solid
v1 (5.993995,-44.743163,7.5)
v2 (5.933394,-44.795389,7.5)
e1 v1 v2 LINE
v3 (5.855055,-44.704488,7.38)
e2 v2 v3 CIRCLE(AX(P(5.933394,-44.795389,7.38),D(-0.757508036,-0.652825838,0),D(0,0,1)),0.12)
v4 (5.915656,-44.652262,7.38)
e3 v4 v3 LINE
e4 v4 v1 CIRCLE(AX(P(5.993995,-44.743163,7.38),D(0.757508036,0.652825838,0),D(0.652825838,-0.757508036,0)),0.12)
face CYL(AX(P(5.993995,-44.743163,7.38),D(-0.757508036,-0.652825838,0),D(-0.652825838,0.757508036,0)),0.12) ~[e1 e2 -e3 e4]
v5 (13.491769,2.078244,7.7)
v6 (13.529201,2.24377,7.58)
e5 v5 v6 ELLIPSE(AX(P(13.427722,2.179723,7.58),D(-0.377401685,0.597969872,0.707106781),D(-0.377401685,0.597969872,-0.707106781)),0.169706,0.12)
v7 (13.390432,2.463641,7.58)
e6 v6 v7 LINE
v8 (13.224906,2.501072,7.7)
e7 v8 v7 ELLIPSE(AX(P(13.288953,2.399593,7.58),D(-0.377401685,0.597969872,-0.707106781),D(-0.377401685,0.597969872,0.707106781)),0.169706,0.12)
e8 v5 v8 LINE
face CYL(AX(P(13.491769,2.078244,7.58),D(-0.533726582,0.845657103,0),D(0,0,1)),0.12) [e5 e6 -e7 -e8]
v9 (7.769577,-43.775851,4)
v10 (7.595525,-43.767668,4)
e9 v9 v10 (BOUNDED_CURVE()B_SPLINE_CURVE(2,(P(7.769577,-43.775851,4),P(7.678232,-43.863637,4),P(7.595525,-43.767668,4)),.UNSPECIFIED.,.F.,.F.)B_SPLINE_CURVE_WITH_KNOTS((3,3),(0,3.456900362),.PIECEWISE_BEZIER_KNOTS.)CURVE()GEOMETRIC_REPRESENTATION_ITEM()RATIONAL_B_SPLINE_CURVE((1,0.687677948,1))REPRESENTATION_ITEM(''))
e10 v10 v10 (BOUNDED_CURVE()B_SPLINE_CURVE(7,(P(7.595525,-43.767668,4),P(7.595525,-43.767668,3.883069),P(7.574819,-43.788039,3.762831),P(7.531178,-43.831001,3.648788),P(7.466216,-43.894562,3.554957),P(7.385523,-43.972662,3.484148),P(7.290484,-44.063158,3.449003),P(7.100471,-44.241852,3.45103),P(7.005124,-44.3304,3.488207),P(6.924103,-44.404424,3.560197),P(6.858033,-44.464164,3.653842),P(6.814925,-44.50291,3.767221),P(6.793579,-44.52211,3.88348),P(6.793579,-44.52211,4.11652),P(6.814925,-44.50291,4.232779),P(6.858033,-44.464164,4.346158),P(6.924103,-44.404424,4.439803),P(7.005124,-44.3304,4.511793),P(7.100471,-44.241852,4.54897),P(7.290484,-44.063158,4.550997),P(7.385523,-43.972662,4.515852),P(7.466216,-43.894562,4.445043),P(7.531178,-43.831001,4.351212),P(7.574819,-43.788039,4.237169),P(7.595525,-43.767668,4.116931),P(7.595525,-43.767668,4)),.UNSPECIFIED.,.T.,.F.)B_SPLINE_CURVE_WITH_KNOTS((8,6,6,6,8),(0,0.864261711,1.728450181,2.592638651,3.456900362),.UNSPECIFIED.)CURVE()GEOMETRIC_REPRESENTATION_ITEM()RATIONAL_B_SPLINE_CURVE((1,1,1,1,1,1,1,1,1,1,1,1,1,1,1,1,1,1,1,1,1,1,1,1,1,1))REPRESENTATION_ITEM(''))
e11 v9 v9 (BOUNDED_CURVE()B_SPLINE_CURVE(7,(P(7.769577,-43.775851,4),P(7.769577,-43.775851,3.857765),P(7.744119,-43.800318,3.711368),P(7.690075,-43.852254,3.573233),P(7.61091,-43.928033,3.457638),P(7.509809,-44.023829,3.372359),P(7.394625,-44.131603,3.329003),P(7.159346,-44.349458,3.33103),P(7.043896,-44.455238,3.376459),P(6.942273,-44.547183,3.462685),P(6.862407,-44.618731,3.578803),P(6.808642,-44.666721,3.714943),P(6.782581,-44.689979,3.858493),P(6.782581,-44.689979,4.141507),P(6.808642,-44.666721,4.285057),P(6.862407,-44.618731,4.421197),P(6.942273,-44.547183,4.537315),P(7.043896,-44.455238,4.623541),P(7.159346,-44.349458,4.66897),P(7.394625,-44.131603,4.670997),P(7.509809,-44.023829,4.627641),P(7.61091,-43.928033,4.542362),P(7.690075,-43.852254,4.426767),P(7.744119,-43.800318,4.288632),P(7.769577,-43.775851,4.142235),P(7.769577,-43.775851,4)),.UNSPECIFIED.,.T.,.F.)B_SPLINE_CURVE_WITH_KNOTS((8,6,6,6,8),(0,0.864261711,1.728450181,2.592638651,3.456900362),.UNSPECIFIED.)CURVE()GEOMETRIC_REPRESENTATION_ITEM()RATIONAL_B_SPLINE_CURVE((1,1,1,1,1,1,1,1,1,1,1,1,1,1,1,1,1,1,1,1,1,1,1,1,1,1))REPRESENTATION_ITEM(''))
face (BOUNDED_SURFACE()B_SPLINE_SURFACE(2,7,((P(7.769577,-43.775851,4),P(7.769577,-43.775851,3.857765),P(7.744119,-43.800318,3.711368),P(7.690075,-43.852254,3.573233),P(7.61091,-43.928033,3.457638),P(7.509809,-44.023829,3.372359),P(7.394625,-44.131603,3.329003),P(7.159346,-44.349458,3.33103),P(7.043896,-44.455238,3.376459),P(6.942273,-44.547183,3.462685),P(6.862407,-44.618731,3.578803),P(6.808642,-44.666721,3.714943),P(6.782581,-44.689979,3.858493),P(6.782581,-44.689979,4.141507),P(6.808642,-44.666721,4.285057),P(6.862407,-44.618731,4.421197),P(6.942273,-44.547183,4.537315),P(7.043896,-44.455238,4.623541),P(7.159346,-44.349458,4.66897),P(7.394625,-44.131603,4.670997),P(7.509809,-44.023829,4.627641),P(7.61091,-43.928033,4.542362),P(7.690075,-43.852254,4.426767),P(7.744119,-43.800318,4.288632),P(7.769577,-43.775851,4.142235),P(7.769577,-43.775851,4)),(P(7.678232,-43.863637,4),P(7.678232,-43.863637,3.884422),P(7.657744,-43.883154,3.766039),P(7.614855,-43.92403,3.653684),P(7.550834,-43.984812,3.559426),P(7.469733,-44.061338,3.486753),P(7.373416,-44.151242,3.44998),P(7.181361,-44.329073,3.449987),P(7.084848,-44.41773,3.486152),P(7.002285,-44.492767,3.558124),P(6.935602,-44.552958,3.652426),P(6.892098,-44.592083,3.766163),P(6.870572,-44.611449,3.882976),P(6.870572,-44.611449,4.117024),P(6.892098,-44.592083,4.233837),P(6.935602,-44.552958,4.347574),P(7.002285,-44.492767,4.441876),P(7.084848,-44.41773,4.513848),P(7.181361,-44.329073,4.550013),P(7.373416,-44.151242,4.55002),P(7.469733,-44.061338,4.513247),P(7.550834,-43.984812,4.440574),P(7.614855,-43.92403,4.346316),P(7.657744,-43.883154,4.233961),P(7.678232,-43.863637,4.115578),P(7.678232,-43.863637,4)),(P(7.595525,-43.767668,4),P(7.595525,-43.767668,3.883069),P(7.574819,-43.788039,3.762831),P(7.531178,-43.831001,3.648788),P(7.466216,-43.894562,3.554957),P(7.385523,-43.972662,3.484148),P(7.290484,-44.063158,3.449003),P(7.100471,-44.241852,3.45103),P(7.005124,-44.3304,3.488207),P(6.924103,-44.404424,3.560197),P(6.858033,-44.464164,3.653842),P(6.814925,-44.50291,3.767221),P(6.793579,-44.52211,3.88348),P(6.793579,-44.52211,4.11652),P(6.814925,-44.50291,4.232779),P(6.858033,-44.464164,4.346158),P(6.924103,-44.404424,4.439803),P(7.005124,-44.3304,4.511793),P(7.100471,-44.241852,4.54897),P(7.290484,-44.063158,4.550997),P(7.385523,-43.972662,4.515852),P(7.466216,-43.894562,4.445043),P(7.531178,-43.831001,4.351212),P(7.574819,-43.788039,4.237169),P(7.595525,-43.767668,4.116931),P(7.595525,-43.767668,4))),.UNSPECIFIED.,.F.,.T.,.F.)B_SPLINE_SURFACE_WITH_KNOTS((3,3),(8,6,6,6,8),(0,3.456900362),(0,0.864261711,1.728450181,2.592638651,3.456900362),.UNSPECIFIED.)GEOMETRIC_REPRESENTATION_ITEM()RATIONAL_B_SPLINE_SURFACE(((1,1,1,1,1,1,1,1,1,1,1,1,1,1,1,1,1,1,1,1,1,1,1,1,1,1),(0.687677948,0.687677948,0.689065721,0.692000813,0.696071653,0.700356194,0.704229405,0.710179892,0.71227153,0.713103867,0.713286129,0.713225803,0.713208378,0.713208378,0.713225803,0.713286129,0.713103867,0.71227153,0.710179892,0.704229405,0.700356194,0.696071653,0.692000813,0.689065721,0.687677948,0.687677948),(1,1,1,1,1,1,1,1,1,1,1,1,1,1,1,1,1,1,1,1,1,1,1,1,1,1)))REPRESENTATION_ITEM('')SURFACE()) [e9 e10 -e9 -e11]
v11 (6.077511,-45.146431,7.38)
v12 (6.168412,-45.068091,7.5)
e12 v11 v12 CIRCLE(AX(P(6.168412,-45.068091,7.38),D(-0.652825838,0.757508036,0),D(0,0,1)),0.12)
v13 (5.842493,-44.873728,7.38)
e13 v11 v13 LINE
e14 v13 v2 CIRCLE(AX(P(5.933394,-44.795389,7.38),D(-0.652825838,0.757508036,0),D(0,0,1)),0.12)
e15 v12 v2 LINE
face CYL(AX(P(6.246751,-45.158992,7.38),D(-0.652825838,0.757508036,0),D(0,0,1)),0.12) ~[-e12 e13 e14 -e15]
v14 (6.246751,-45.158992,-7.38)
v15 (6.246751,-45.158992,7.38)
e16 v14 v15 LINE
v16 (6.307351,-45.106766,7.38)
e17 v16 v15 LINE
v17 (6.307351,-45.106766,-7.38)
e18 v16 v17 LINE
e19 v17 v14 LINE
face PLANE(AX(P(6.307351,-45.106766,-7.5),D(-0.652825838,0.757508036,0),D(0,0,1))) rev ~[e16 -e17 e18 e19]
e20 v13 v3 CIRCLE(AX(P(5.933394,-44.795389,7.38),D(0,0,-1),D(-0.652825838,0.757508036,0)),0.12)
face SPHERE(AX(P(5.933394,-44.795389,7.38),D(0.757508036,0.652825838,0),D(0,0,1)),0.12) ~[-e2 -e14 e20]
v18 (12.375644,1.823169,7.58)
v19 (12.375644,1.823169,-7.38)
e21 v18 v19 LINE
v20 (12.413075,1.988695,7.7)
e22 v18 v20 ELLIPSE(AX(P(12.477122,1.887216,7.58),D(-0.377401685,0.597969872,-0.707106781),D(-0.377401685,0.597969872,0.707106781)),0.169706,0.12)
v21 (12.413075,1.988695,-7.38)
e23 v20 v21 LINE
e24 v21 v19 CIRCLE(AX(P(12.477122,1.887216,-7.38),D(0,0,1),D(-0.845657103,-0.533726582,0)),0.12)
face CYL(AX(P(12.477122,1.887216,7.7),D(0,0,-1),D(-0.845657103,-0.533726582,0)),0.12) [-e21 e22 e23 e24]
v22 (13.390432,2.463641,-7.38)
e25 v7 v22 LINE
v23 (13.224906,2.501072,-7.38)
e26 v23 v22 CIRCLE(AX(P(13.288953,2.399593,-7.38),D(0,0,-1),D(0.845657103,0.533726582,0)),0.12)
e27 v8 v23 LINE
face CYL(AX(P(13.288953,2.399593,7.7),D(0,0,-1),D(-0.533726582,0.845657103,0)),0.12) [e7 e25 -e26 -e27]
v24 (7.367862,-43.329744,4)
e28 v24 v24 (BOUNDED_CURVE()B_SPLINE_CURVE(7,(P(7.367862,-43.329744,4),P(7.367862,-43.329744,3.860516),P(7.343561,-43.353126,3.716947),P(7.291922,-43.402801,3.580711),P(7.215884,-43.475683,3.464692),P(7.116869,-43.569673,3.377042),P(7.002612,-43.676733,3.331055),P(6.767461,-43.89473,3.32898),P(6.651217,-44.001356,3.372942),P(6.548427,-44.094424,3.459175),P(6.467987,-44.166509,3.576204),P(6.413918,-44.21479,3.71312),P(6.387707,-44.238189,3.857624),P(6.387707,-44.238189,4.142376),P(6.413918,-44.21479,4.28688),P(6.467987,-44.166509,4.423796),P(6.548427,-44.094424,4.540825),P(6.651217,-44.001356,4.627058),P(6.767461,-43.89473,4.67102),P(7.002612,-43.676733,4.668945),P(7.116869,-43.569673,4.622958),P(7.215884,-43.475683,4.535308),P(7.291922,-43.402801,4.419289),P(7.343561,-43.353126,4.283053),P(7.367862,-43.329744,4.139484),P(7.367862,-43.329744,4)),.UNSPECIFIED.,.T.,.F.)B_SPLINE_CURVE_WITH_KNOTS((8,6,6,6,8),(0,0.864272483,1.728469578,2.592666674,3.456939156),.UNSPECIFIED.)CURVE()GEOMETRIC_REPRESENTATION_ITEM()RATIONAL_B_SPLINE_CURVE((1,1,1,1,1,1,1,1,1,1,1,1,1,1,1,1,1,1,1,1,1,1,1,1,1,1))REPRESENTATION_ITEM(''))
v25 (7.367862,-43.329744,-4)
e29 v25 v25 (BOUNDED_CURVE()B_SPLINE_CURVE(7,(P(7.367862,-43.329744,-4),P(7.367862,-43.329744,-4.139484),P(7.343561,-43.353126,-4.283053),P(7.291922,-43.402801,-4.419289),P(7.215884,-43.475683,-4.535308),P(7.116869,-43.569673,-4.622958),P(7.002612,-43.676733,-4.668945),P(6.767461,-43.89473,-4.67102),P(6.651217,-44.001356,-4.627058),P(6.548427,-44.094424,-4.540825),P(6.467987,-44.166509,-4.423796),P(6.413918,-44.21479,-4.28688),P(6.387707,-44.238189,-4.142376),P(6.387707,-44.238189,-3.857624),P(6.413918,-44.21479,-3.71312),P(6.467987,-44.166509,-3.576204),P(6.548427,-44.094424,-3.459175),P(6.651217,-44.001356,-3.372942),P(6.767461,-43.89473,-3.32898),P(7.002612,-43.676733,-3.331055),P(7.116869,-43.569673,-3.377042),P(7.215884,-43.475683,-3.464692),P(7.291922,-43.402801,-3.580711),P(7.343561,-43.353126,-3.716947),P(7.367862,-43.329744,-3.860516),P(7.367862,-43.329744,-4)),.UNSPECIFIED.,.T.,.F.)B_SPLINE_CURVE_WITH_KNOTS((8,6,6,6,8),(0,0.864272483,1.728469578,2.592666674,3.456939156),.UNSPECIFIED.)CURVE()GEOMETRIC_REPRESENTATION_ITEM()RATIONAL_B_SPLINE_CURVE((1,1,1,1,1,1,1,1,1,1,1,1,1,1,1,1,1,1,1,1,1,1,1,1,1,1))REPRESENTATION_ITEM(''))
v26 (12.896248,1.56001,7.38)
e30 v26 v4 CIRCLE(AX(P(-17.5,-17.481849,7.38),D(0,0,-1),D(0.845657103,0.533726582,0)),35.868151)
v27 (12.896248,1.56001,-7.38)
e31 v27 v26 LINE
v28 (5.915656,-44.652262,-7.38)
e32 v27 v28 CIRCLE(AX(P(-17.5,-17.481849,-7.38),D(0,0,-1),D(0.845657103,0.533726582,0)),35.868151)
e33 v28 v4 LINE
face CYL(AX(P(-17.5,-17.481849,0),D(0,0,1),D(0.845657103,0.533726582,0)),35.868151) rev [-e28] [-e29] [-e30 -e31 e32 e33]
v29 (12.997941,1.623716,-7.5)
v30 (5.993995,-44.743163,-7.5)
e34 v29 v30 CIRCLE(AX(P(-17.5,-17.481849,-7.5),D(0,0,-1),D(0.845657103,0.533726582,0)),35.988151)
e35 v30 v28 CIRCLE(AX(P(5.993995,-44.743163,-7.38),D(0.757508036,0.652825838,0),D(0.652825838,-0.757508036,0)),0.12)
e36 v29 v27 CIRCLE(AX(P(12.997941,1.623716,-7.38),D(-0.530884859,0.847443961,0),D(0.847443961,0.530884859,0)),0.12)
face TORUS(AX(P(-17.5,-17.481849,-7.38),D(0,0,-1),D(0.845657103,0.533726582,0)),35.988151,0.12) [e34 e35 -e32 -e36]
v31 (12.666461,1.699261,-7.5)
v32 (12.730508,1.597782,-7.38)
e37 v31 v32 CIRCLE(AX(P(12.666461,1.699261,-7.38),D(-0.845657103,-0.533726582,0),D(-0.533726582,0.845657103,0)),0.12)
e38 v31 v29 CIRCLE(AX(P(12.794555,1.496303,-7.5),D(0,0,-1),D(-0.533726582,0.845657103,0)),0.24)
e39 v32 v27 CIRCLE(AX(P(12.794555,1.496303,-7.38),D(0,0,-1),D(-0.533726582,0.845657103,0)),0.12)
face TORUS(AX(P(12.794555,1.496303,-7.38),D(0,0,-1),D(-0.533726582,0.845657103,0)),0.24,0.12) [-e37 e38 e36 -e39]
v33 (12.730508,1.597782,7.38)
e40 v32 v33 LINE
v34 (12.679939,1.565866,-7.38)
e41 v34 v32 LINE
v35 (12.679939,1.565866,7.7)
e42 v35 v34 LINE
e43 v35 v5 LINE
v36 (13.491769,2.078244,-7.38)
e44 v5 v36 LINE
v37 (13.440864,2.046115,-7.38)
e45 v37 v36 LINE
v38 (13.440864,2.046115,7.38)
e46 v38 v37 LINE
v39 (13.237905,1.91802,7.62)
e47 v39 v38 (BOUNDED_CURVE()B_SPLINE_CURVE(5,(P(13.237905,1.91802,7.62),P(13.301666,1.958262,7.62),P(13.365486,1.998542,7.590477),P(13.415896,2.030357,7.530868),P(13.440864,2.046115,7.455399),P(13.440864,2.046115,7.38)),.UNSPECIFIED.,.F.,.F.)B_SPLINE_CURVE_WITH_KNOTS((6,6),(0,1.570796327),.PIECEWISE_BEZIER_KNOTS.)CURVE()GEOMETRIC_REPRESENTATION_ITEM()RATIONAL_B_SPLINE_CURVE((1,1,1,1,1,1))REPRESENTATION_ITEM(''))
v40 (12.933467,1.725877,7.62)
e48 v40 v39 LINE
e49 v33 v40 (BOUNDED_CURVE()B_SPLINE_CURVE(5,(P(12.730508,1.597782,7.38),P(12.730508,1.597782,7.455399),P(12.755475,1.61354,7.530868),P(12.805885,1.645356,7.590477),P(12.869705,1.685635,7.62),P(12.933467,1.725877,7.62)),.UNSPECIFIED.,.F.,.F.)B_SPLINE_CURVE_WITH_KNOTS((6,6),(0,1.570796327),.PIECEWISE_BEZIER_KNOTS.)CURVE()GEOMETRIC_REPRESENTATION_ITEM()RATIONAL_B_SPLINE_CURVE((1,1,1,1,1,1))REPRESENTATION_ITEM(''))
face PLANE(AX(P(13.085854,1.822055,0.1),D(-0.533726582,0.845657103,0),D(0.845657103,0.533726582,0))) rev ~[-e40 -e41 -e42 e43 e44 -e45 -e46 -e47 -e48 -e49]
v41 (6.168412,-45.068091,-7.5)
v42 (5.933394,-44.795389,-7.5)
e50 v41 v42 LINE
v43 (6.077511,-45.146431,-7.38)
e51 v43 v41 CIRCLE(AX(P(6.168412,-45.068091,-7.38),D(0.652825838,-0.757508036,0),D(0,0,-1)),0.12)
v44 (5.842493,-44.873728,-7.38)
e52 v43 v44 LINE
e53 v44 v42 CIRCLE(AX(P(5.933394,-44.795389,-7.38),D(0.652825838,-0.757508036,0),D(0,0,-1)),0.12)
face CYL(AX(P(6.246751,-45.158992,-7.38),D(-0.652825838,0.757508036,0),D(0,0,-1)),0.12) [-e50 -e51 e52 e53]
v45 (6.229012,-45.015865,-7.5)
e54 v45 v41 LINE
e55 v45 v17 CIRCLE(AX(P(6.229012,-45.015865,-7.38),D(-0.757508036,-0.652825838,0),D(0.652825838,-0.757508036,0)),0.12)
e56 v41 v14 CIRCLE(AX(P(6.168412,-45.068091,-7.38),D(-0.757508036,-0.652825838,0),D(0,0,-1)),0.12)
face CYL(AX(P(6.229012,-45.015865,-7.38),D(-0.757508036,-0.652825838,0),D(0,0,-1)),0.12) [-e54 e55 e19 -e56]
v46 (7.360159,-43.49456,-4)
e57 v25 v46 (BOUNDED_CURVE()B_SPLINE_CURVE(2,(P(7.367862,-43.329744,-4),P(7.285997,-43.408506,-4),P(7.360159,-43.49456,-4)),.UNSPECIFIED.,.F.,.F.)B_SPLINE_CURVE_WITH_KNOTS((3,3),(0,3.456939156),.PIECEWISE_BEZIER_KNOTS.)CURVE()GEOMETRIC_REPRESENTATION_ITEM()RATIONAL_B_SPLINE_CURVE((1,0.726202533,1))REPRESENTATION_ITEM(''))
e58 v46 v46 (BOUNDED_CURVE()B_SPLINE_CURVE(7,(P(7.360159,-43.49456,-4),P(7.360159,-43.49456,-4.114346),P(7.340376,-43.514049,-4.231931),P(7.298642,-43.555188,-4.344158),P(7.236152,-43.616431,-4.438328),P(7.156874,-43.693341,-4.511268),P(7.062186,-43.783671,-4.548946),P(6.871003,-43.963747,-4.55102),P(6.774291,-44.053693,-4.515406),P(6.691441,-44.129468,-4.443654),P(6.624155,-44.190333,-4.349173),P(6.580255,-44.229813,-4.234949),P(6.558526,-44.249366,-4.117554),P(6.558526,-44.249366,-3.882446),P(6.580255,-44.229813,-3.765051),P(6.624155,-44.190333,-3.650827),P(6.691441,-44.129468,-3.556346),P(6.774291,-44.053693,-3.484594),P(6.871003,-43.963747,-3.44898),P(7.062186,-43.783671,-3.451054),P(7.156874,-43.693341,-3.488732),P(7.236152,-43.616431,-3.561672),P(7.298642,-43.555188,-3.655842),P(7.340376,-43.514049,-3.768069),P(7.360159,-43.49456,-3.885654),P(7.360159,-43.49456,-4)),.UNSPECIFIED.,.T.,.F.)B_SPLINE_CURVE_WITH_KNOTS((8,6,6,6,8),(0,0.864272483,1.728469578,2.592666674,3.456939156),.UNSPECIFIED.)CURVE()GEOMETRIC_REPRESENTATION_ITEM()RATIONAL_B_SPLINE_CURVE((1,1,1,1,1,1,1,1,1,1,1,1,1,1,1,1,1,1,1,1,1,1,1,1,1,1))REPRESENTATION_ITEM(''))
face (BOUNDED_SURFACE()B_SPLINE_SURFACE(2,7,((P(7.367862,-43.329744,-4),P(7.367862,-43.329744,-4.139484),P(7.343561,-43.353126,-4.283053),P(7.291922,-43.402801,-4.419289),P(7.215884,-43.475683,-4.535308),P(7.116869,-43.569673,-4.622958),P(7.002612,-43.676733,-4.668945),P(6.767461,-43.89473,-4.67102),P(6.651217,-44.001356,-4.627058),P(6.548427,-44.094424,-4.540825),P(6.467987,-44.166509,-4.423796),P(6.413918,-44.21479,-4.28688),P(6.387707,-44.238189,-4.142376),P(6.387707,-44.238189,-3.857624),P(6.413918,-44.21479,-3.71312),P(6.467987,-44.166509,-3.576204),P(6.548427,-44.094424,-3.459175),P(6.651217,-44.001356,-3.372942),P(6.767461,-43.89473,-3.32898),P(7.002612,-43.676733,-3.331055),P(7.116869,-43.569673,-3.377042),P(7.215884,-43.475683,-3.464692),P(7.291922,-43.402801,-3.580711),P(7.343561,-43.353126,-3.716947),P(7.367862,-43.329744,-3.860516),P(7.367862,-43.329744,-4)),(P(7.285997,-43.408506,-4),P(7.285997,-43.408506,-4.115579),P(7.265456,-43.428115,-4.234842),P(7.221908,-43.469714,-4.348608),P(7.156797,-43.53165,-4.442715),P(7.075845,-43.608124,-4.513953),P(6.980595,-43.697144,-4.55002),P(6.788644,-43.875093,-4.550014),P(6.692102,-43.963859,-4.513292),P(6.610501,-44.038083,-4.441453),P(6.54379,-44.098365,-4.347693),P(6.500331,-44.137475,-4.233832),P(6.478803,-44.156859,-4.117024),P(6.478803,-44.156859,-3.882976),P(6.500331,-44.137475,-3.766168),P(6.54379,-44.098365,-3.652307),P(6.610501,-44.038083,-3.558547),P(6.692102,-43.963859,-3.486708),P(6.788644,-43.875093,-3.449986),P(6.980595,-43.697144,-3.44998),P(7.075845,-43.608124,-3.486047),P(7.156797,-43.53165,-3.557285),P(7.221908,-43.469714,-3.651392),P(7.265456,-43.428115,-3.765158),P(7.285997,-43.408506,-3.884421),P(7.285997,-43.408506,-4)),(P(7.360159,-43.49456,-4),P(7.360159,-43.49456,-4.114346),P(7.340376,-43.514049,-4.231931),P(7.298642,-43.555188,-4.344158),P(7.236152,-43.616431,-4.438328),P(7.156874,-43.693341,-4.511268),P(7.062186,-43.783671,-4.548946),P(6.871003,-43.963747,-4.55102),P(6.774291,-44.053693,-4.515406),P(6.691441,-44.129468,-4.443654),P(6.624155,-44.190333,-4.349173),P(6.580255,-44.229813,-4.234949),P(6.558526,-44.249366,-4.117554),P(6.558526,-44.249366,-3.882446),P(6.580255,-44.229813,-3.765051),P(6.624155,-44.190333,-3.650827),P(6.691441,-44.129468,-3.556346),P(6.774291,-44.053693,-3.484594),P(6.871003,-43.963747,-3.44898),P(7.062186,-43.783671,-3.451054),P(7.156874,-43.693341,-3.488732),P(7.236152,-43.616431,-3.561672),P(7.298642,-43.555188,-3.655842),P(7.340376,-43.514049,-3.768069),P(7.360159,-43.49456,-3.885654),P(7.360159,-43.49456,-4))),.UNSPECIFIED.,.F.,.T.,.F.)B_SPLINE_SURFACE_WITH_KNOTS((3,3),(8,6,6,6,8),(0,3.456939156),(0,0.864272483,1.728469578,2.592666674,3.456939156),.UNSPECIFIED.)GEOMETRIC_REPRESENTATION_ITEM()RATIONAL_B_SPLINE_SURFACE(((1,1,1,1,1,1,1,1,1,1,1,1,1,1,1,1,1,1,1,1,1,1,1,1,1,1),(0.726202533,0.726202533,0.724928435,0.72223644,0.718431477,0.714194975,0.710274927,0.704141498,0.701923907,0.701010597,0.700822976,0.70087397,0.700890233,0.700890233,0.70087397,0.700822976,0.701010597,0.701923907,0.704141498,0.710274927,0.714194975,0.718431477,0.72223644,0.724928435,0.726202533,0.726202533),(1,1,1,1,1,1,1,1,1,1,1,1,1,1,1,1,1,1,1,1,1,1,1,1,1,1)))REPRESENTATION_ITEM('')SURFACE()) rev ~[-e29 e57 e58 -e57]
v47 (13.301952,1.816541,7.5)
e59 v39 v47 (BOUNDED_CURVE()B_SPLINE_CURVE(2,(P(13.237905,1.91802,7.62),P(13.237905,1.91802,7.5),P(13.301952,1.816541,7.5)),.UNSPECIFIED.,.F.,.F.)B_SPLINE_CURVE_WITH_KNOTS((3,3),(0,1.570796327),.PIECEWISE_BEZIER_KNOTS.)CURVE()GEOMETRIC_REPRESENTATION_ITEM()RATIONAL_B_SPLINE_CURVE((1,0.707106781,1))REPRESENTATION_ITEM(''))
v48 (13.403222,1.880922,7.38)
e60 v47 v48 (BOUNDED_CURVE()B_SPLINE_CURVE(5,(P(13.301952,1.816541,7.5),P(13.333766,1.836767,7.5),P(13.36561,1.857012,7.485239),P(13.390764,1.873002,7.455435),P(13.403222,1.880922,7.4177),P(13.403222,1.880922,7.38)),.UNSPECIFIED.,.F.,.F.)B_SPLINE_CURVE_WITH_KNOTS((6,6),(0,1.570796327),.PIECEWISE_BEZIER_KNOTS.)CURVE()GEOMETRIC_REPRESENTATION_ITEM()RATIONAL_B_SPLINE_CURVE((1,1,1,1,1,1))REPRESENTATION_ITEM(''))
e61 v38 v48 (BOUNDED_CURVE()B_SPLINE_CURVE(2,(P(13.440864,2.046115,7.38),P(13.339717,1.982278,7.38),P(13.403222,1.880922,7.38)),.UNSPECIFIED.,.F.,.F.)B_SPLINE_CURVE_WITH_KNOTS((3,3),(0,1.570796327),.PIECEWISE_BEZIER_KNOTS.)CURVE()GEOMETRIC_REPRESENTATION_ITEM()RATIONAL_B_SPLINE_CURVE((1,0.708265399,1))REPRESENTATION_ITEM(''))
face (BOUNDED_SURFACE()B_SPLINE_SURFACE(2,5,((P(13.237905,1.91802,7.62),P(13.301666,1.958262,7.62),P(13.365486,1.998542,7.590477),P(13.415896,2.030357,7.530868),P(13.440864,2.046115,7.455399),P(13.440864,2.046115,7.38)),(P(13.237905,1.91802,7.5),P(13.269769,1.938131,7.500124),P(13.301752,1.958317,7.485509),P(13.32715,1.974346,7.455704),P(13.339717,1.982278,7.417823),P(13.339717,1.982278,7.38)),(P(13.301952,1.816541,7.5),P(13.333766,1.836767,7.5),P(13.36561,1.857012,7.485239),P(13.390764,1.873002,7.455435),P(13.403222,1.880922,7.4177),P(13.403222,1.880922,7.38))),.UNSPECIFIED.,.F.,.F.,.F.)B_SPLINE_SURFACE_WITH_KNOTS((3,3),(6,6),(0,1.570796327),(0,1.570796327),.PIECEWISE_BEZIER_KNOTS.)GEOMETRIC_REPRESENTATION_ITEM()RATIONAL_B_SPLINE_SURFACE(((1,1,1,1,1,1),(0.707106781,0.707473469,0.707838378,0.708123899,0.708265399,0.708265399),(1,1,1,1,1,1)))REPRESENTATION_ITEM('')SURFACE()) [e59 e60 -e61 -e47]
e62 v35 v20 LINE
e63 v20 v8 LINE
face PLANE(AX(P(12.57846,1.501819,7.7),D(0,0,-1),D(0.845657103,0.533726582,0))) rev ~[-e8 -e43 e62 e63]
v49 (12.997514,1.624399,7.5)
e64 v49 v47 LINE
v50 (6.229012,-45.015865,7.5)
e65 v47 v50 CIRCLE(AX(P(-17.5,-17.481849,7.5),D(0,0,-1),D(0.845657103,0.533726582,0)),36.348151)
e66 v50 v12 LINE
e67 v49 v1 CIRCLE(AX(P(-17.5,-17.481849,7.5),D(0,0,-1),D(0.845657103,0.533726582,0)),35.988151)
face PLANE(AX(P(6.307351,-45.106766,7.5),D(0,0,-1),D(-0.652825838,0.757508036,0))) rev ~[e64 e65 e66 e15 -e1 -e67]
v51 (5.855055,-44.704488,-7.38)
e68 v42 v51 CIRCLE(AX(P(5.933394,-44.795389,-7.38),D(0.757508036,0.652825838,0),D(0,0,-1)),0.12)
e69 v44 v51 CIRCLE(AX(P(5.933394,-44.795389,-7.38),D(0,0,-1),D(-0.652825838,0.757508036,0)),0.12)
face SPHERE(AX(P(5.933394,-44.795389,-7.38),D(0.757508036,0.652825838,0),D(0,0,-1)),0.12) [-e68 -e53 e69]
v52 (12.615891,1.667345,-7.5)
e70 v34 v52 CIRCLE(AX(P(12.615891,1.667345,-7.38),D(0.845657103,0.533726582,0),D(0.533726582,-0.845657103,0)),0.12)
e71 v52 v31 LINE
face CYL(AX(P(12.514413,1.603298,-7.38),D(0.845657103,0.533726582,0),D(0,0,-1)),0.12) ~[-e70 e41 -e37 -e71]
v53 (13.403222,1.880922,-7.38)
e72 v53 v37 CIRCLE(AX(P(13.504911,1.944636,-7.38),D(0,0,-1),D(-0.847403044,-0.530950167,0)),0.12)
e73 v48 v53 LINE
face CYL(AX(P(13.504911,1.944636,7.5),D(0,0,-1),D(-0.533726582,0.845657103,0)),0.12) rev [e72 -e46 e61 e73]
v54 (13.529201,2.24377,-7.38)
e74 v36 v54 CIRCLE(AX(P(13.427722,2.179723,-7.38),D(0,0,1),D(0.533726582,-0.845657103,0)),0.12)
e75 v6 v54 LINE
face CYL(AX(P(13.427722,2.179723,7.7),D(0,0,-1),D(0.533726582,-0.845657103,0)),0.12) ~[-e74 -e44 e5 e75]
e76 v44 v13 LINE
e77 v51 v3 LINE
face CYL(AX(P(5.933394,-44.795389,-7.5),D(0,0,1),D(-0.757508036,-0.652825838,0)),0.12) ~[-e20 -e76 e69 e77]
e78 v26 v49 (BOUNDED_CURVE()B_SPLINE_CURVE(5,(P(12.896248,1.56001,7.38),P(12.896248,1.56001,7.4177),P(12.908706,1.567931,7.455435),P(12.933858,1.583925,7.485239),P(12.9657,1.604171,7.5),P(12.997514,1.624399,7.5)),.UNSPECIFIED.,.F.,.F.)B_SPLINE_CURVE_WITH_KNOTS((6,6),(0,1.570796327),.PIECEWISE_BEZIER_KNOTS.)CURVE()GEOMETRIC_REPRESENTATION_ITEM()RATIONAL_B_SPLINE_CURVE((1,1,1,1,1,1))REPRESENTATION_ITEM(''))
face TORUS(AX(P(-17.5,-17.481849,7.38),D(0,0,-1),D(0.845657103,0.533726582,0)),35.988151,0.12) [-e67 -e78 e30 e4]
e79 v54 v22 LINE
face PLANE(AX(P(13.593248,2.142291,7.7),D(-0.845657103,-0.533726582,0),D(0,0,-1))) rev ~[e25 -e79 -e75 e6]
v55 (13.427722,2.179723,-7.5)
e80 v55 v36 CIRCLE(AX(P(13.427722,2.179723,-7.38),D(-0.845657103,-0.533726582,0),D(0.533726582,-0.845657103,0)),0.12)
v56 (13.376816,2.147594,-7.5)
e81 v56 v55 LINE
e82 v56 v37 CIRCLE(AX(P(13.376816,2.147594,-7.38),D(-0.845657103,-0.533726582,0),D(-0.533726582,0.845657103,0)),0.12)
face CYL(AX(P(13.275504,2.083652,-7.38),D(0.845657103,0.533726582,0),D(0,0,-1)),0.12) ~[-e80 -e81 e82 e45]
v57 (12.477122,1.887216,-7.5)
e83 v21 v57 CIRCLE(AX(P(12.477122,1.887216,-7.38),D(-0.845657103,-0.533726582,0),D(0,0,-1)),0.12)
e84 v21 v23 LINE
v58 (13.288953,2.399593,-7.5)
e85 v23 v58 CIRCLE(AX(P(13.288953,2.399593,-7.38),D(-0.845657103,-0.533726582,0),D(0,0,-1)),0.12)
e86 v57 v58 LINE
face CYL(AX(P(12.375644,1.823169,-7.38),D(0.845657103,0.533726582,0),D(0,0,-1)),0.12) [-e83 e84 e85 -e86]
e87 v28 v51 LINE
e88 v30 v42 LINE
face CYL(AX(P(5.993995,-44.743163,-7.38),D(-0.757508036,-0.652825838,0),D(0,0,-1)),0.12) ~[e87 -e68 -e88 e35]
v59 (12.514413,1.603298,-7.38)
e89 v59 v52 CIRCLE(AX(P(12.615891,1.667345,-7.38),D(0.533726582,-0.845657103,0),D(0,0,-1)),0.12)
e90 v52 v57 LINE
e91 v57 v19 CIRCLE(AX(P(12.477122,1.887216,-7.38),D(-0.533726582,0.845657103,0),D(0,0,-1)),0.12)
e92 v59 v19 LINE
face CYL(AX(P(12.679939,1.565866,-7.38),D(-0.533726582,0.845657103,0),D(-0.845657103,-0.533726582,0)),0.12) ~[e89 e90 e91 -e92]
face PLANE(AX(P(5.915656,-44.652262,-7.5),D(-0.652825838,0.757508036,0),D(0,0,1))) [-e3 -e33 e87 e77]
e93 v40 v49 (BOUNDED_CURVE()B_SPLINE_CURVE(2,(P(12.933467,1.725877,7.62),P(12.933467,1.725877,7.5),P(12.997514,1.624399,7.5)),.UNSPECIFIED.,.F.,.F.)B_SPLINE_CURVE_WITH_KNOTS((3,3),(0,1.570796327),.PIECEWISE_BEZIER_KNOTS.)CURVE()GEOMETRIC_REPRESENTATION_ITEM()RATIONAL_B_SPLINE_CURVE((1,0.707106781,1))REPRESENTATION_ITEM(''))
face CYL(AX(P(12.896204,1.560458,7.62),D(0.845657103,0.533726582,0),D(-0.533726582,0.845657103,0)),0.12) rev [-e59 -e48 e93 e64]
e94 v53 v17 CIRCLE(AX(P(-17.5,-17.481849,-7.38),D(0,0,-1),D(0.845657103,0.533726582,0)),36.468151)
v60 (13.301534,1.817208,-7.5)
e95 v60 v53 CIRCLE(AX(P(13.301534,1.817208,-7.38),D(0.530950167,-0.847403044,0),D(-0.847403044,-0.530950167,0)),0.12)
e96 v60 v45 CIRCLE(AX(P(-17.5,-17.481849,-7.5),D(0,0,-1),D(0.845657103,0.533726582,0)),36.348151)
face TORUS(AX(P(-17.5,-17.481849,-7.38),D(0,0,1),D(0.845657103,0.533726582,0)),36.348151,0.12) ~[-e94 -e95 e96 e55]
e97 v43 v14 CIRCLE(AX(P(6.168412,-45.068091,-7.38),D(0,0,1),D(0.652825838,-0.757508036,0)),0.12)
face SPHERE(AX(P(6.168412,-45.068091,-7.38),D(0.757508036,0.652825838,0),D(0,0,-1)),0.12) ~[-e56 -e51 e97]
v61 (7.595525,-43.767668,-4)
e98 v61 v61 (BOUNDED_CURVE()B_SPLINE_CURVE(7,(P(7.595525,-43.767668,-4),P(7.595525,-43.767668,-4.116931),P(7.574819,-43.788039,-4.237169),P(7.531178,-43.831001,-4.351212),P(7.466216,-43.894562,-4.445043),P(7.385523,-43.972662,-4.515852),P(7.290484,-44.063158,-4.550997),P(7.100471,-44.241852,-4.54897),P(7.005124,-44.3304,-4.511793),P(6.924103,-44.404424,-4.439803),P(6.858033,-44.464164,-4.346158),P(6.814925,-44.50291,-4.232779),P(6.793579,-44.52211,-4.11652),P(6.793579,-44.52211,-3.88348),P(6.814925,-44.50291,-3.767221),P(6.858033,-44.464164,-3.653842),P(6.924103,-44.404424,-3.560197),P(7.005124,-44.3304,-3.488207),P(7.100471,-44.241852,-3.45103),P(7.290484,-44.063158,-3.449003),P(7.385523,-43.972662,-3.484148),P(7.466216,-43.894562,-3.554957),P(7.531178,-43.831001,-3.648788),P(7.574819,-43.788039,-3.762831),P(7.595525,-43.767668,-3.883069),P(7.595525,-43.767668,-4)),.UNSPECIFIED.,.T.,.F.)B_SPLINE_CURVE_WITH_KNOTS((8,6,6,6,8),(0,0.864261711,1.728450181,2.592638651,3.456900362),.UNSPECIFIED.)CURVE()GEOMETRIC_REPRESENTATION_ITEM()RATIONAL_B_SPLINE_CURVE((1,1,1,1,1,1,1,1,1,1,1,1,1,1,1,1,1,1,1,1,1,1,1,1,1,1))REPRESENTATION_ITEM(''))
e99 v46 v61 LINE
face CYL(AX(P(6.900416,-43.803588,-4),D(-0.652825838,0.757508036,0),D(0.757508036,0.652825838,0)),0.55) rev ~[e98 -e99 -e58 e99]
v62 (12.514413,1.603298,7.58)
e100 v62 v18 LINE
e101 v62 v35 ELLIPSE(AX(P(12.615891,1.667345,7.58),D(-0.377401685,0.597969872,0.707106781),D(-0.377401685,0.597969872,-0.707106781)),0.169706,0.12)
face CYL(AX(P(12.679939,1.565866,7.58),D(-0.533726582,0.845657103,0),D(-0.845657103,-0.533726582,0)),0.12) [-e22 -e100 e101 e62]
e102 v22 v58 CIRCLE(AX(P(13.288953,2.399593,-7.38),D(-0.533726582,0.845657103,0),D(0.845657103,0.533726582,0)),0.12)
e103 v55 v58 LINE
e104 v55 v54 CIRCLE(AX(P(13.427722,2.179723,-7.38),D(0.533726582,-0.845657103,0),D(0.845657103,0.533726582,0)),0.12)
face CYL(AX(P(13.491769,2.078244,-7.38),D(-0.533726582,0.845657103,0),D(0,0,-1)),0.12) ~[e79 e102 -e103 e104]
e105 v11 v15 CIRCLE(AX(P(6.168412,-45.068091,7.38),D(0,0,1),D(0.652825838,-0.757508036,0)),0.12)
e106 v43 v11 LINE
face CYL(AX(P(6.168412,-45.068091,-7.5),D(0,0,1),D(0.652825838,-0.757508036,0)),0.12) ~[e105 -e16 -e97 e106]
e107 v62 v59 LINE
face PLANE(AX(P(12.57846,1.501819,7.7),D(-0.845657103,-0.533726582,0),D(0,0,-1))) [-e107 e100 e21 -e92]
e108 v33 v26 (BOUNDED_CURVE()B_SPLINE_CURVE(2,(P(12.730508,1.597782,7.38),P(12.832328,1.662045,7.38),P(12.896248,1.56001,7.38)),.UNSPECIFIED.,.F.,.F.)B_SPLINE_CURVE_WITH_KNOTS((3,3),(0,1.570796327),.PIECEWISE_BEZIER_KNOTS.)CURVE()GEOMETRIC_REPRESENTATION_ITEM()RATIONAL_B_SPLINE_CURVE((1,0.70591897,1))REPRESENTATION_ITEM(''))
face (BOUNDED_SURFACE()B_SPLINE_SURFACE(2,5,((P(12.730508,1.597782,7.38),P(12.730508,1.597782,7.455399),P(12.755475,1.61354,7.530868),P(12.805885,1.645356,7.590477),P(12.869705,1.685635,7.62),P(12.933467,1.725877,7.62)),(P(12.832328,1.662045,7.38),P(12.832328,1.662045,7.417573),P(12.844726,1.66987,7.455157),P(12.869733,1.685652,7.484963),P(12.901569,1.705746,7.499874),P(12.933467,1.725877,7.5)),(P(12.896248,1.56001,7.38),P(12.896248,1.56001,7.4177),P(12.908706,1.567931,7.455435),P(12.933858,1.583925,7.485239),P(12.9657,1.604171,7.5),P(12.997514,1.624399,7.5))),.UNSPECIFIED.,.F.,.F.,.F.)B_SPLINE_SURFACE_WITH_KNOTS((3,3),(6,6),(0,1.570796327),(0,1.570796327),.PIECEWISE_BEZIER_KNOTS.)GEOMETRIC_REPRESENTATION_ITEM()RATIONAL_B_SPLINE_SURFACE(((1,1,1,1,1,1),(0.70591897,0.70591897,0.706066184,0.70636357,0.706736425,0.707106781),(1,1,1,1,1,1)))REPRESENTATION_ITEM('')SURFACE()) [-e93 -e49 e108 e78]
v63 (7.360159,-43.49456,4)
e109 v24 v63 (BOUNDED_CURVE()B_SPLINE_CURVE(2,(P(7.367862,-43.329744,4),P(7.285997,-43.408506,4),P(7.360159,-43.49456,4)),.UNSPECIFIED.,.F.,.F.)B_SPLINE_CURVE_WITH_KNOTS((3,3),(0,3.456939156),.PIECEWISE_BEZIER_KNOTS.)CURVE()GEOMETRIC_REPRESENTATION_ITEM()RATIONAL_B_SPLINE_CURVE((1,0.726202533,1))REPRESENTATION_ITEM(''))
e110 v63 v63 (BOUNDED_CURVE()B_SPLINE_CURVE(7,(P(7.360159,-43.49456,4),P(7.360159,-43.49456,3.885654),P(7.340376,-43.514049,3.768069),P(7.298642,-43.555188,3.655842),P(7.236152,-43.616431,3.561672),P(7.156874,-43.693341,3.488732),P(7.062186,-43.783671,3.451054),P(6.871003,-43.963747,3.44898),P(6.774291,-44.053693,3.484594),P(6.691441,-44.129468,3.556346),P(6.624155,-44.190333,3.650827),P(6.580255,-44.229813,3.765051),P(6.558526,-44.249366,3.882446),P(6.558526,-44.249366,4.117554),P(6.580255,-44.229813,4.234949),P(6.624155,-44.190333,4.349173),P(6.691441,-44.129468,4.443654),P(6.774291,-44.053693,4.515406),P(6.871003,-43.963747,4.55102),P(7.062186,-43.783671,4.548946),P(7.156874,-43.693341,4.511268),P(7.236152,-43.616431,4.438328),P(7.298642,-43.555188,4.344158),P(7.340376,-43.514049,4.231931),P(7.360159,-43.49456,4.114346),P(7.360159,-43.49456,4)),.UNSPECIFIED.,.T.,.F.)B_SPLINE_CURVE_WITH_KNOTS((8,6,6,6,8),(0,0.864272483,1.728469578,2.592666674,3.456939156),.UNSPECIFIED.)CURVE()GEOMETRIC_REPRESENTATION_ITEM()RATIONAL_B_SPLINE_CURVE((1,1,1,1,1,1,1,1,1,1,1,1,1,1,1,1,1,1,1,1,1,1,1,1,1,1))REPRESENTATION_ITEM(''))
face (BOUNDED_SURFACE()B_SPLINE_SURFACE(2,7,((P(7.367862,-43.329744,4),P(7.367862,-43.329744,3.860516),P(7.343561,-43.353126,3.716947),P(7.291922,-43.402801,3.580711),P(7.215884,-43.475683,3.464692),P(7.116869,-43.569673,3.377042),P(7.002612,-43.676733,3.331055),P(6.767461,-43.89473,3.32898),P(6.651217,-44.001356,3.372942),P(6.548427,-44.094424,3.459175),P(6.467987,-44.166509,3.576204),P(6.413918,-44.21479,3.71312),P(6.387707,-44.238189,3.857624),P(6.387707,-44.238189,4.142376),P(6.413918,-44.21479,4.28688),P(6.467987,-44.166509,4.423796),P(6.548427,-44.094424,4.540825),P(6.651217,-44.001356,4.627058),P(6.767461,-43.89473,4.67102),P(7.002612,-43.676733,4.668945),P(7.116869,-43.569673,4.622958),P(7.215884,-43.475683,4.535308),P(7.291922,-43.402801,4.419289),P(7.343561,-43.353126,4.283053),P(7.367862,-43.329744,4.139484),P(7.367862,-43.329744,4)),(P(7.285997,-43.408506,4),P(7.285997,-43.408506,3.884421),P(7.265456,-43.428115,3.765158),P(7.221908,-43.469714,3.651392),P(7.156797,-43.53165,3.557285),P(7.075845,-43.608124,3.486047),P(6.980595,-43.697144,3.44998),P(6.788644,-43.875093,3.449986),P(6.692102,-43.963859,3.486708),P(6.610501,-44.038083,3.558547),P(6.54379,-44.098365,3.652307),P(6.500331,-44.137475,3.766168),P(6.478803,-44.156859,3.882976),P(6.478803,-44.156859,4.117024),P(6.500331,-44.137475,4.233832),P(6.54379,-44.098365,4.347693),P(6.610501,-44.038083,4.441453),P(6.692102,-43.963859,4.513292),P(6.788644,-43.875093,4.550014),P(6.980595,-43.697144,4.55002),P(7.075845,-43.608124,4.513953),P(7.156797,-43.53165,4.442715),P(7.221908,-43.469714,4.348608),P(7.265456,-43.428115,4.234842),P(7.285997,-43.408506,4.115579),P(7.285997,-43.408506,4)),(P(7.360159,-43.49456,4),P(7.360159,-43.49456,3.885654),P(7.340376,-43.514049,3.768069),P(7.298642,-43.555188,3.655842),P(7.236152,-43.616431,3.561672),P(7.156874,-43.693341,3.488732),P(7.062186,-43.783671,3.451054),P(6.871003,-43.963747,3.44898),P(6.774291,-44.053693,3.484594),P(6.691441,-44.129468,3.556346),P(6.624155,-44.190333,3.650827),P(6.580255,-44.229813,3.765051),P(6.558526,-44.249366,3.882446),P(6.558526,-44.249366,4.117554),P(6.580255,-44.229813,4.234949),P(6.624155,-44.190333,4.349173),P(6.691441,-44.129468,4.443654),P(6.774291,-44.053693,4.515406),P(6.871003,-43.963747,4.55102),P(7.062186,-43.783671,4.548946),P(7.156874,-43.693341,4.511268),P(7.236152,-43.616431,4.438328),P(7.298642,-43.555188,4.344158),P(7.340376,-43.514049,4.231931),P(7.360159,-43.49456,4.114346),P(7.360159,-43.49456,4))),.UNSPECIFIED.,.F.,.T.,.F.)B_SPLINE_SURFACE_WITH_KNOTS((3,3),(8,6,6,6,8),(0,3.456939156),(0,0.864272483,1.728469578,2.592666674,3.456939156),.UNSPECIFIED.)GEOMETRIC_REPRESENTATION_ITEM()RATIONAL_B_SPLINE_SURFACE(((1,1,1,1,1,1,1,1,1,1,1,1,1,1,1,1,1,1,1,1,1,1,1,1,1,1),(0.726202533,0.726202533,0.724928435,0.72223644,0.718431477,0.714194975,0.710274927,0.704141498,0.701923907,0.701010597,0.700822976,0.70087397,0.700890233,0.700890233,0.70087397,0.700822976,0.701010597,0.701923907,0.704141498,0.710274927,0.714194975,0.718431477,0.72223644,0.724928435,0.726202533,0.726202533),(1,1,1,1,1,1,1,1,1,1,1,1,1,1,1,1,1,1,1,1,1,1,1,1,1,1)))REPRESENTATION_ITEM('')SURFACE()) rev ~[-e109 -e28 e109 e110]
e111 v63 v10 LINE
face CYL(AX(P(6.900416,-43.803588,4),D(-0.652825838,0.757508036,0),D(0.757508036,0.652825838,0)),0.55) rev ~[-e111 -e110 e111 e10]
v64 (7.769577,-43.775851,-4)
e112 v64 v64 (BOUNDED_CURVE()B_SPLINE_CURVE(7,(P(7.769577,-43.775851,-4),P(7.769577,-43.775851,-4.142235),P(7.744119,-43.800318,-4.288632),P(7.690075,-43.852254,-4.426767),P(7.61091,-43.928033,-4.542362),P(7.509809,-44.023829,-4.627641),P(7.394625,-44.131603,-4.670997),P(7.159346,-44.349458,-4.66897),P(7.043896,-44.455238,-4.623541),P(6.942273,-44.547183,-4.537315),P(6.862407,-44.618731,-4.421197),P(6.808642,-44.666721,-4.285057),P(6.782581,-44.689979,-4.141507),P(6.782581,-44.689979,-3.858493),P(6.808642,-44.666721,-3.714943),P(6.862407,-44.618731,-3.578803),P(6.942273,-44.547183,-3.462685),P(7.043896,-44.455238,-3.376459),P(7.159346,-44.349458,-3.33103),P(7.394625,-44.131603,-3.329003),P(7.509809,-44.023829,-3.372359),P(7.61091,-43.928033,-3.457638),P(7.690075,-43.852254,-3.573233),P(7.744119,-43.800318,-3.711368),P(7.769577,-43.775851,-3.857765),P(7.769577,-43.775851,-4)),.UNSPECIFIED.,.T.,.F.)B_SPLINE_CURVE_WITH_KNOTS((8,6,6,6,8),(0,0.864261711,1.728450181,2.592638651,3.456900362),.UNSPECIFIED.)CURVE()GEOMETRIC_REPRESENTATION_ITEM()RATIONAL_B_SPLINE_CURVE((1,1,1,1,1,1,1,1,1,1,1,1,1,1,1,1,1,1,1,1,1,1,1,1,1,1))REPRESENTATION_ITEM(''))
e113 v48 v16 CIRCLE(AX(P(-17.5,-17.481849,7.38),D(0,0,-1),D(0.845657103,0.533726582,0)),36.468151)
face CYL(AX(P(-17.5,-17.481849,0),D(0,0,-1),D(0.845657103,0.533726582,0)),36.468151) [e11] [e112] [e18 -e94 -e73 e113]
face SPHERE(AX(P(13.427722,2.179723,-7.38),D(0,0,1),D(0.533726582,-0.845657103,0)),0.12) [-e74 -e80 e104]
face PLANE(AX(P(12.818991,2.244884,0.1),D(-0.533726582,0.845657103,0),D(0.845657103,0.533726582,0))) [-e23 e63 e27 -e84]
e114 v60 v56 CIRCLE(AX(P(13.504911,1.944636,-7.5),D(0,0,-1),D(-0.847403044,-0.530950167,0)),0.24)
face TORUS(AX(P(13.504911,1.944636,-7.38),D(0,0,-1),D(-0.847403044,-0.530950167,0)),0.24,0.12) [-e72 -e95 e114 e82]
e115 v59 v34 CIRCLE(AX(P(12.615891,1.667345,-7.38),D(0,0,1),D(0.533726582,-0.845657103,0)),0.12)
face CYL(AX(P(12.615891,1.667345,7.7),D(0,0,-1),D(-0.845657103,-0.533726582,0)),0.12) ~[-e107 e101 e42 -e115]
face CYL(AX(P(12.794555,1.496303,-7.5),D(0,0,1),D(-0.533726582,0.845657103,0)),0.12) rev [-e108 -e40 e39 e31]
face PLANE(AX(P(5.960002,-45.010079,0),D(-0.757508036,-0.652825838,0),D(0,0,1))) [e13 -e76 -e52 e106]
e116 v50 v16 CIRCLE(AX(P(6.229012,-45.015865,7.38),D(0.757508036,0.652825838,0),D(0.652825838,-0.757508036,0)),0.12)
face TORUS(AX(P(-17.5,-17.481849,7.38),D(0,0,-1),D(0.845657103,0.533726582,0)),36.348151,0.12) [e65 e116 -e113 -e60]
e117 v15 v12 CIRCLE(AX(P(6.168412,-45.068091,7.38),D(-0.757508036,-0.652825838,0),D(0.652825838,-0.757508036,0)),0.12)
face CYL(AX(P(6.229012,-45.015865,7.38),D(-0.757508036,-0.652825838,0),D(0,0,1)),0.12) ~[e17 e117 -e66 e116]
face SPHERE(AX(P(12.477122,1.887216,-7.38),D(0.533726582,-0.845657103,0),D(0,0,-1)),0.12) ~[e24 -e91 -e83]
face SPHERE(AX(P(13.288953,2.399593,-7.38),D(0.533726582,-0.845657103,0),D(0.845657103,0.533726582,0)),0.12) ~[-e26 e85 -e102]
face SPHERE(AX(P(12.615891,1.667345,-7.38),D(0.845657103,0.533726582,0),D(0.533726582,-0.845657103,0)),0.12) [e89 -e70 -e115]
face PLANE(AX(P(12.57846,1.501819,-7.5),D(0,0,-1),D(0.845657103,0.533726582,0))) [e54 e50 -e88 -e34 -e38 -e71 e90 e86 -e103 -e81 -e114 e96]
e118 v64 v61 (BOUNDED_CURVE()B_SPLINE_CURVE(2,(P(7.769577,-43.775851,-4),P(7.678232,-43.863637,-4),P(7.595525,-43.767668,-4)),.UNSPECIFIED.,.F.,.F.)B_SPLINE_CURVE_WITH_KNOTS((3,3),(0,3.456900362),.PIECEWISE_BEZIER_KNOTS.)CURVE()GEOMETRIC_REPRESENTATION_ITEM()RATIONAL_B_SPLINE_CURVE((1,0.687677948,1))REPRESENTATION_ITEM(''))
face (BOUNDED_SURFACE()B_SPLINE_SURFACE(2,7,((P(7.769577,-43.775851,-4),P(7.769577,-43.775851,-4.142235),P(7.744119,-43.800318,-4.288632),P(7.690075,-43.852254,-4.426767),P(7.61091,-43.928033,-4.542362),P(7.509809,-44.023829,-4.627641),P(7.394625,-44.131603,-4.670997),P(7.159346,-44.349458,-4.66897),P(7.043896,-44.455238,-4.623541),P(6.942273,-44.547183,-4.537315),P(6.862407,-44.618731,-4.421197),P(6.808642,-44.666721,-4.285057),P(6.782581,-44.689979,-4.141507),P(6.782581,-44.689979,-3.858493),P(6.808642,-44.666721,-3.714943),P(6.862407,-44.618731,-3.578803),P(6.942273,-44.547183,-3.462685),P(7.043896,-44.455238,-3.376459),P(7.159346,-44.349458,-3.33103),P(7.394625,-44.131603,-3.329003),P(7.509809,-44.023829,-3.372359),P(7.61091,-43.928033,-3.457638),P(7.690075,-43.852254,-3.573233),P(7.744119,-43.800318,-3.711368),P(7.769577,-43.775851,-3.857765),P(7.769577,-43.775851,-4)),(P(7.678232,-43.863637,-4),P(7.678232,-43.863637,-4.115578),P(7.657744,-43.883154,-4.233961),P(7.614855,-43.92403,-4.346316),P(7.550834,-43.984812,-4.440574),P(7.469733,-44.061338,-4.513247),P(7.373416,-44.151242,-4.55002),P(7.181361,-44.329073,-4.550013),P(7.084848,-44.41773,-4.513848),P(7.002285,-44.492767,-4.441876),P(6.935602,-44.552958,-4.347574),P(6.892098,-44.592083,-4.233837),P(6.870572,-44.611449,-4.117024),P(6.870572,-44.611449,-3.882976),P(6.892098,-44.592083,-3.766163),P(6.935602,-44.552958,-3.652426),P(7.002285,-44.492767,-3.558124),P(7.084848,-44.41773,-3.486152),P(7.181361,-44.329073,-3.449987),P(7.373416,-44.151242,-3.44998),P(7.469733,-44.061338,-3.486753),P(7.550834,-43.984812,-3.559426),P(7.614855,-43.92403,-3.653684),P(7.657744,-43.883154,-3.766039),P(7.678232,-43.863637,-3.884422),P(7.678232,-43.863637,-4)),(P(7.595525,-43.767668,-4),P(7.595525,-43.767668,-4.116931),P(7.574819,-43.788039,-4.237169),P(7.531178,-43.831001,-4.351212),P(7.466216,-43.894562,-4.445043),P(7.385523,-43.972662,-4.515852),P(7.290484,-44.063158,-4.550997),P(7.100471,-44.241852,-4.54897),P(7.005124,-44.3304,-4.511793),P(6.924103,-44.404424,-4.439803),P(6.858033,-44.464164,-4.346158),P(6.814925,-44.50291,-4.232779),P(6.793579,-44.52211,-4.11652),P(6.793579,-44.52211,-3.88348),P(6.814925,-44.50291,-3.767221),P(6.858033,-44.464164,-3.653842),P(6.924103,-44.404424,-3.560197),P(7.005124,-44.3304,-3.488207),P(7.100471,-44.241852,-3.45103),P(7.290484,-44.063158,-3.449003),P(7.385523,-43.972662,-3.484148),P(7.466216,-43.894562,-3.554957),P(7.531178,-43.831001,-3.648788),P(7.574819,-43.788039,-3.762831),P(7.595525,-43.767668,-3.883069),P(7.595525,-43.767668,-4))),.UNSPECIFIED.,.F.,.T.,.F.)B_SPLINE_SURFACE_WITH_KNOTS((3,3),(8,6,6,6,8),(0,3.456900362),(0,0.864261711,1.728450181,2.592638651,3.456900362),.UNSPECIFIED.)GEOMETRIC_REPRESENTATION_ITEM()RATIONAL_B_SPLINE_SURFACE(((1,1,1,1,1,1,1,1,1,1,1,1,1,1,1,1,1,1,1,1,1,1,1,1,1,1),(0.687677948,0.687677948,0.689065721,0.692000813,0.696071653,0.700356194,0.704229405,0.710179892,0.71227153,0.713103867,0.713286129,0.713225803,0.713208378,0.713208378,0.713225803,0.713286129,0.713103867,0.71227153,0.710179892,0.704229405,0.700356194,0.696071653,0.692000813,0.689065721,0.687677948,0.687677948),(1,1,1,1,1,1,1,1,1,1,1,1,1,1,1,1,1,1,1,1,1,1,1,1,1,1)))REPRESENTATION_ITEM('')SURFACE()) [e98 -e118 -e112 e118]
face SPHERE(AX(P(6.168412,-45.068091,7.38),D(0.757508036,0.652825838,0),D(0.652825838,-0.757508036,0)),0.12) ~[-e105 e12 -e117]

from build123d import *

# Parameters (mm, degrees)
SKETCH11_W              = 0.6
SKETCH11_H              = 15
SKETCH12_W              = 15
SKETCH12_H              = 0.6
BOSS_EXTRUDE1_DEPTH     = 0.2
SKETCH13_R              = 0.55
CUT_EXTRUDE1_DEPTH      = 36.424863097
CUT_EXTRUDE1_DEPTH_BACK = 9.964201433
SKETCH14_W              = 1.2
SKETCH14_H              = 15.2
BOSS_EXTRUDE2_DEPTH     = 0.5
FILLET1_R               = 0.12


with BuildPart() as part:
    # Sweep1: sweep along a path in Sketch7
    with BuildLine(Plane.XY) as sweep1_path:
        ThreePointArc((12.832156868, 1.661937028), (17.974752885, -22.779601272), (5.915655903, -44.652261565))
    # Sketch11 → Sweep1 (sweep)
    with BuildSketch(Plane(origin=(0, -17.481848747, 0), x_dir=(1, 0, 0), z_dir=(0, 1, 0))):
        with Locations((18.66815125, 0)):
            Rectangle(SKETCH11_W, SKETCH11_H)
    sweep(path=sweep1_path.line)

    # Sketch12 → Boss-Extrude1 (add)
    with BuildSketch(Plane(origin=(-18.686960593, -16.10455616, 0), x_dir=(0, 0, 1), z_dir=(-0.757508036, -0.652825838, 0))):
        with Locations((0, -37.986339997)):
            Rectangle(SKETCH12_W, SKETCH12_H)
    extrude(amount=BOSS_EXTRUDE1_DEPTH)

    # Sketch13 → Cut-Extrude1 (cut, two sides)
    with BuildSketch(Plane(origin=(24.602616496, -28.547705405, 0), x_dir=(0.757508036, 0.652825838, 0), z_dir=(-0.652825838, 0.757508036, 0))) as cut_extrude1_sk:
        with Locations((-23.368993196, 4)):
            Circle(SKETCH13_R)
        with Locations((-23.368993196, -4)):
            Circle(SKETCH13_R)
    extrude(amount=CUT_EXTRUDE1_DEPTH, mode=Mode.SUBTRACT)
    extrude(cut_extrude1_sk.sketch, amount=-CUT_EXTRUDE1_DEPTH_BACK, mode=Mode.SUBTRACT)

    # Sketch14 → Boss-Extrude2 (add)
    with BuildSketch(Plane(origin=(2.905305624, -4.603278943, 0), x_dir=(0.845657103, 0.533726582, 0), z_dir=(-0.533726582, 0.845657103, 0))):
        with Locations((12.038624569, -0.1)):
            Rectangle(SKETCH14_W, SKETCH14_H)
    extrude(amount=BOSS_EXTRUDE2_DEPTH)

    # Fillet1
    fillet1_edges = [part.edges().sort_by_distance(p)[0] for p in [
        (17.974752885, -22.779601272, -7.5),
        (5.8399051, -44.717544149, -7.5),
        (6.231600603, -45.172048971, -7.5),
        (17.974752885, -22.779601272, 7.5),
        (6.231600603, -45.172048971, 7.5),
        (5.8399051, -44.717544149, 7.5),
        (5.960002048, -45.010079144, -7.5),
        (6.155849799, -45.237331555, 0),
        (5.960002048, -45.010079144, 7.5),
        (5.764154296, -44.782826733, 0),
        (18.568172144, -22.868221717, 7.5),
        (18.568172144, -22.868221717, -7.5),
        (6.478667421, -44.156701751, -4),
        (6.870447172, -44.61130433, -4),
        (6.478667421, -44.156701751, 4),
        (6.870447172, -44.61130433, 4),
        (12.832156868, 1.661937028, 0),
        (13.59324826, 2.142290952, 0.1),
        (13.459816615, 2.353705228, 7.7),
        (13.466399695, 2.062231965, -7.5),
        (12.705308302, 1.581878041, -7.5),
        (13.459816615, 2.353705228, -7.5),
        (12.578459737, 1.501819054, 0.1),
        (12.445028091, 1.713233329, -7.5),
        (13.085853999, 1.822055003, 7.5),
        (12.445028091, 1.713233329, 7.7),
        (13.326384969, 2.565119504, 0.1),
        (12.818990708, 2.244883554, -7.5),
        (12.311596446, 1.924647605, 0.1),
        (13.339551129, 1.982172977, 0),
    ]]
    fillet(fillet1_edges, radius=FILLET1_R)


solid = part.part
